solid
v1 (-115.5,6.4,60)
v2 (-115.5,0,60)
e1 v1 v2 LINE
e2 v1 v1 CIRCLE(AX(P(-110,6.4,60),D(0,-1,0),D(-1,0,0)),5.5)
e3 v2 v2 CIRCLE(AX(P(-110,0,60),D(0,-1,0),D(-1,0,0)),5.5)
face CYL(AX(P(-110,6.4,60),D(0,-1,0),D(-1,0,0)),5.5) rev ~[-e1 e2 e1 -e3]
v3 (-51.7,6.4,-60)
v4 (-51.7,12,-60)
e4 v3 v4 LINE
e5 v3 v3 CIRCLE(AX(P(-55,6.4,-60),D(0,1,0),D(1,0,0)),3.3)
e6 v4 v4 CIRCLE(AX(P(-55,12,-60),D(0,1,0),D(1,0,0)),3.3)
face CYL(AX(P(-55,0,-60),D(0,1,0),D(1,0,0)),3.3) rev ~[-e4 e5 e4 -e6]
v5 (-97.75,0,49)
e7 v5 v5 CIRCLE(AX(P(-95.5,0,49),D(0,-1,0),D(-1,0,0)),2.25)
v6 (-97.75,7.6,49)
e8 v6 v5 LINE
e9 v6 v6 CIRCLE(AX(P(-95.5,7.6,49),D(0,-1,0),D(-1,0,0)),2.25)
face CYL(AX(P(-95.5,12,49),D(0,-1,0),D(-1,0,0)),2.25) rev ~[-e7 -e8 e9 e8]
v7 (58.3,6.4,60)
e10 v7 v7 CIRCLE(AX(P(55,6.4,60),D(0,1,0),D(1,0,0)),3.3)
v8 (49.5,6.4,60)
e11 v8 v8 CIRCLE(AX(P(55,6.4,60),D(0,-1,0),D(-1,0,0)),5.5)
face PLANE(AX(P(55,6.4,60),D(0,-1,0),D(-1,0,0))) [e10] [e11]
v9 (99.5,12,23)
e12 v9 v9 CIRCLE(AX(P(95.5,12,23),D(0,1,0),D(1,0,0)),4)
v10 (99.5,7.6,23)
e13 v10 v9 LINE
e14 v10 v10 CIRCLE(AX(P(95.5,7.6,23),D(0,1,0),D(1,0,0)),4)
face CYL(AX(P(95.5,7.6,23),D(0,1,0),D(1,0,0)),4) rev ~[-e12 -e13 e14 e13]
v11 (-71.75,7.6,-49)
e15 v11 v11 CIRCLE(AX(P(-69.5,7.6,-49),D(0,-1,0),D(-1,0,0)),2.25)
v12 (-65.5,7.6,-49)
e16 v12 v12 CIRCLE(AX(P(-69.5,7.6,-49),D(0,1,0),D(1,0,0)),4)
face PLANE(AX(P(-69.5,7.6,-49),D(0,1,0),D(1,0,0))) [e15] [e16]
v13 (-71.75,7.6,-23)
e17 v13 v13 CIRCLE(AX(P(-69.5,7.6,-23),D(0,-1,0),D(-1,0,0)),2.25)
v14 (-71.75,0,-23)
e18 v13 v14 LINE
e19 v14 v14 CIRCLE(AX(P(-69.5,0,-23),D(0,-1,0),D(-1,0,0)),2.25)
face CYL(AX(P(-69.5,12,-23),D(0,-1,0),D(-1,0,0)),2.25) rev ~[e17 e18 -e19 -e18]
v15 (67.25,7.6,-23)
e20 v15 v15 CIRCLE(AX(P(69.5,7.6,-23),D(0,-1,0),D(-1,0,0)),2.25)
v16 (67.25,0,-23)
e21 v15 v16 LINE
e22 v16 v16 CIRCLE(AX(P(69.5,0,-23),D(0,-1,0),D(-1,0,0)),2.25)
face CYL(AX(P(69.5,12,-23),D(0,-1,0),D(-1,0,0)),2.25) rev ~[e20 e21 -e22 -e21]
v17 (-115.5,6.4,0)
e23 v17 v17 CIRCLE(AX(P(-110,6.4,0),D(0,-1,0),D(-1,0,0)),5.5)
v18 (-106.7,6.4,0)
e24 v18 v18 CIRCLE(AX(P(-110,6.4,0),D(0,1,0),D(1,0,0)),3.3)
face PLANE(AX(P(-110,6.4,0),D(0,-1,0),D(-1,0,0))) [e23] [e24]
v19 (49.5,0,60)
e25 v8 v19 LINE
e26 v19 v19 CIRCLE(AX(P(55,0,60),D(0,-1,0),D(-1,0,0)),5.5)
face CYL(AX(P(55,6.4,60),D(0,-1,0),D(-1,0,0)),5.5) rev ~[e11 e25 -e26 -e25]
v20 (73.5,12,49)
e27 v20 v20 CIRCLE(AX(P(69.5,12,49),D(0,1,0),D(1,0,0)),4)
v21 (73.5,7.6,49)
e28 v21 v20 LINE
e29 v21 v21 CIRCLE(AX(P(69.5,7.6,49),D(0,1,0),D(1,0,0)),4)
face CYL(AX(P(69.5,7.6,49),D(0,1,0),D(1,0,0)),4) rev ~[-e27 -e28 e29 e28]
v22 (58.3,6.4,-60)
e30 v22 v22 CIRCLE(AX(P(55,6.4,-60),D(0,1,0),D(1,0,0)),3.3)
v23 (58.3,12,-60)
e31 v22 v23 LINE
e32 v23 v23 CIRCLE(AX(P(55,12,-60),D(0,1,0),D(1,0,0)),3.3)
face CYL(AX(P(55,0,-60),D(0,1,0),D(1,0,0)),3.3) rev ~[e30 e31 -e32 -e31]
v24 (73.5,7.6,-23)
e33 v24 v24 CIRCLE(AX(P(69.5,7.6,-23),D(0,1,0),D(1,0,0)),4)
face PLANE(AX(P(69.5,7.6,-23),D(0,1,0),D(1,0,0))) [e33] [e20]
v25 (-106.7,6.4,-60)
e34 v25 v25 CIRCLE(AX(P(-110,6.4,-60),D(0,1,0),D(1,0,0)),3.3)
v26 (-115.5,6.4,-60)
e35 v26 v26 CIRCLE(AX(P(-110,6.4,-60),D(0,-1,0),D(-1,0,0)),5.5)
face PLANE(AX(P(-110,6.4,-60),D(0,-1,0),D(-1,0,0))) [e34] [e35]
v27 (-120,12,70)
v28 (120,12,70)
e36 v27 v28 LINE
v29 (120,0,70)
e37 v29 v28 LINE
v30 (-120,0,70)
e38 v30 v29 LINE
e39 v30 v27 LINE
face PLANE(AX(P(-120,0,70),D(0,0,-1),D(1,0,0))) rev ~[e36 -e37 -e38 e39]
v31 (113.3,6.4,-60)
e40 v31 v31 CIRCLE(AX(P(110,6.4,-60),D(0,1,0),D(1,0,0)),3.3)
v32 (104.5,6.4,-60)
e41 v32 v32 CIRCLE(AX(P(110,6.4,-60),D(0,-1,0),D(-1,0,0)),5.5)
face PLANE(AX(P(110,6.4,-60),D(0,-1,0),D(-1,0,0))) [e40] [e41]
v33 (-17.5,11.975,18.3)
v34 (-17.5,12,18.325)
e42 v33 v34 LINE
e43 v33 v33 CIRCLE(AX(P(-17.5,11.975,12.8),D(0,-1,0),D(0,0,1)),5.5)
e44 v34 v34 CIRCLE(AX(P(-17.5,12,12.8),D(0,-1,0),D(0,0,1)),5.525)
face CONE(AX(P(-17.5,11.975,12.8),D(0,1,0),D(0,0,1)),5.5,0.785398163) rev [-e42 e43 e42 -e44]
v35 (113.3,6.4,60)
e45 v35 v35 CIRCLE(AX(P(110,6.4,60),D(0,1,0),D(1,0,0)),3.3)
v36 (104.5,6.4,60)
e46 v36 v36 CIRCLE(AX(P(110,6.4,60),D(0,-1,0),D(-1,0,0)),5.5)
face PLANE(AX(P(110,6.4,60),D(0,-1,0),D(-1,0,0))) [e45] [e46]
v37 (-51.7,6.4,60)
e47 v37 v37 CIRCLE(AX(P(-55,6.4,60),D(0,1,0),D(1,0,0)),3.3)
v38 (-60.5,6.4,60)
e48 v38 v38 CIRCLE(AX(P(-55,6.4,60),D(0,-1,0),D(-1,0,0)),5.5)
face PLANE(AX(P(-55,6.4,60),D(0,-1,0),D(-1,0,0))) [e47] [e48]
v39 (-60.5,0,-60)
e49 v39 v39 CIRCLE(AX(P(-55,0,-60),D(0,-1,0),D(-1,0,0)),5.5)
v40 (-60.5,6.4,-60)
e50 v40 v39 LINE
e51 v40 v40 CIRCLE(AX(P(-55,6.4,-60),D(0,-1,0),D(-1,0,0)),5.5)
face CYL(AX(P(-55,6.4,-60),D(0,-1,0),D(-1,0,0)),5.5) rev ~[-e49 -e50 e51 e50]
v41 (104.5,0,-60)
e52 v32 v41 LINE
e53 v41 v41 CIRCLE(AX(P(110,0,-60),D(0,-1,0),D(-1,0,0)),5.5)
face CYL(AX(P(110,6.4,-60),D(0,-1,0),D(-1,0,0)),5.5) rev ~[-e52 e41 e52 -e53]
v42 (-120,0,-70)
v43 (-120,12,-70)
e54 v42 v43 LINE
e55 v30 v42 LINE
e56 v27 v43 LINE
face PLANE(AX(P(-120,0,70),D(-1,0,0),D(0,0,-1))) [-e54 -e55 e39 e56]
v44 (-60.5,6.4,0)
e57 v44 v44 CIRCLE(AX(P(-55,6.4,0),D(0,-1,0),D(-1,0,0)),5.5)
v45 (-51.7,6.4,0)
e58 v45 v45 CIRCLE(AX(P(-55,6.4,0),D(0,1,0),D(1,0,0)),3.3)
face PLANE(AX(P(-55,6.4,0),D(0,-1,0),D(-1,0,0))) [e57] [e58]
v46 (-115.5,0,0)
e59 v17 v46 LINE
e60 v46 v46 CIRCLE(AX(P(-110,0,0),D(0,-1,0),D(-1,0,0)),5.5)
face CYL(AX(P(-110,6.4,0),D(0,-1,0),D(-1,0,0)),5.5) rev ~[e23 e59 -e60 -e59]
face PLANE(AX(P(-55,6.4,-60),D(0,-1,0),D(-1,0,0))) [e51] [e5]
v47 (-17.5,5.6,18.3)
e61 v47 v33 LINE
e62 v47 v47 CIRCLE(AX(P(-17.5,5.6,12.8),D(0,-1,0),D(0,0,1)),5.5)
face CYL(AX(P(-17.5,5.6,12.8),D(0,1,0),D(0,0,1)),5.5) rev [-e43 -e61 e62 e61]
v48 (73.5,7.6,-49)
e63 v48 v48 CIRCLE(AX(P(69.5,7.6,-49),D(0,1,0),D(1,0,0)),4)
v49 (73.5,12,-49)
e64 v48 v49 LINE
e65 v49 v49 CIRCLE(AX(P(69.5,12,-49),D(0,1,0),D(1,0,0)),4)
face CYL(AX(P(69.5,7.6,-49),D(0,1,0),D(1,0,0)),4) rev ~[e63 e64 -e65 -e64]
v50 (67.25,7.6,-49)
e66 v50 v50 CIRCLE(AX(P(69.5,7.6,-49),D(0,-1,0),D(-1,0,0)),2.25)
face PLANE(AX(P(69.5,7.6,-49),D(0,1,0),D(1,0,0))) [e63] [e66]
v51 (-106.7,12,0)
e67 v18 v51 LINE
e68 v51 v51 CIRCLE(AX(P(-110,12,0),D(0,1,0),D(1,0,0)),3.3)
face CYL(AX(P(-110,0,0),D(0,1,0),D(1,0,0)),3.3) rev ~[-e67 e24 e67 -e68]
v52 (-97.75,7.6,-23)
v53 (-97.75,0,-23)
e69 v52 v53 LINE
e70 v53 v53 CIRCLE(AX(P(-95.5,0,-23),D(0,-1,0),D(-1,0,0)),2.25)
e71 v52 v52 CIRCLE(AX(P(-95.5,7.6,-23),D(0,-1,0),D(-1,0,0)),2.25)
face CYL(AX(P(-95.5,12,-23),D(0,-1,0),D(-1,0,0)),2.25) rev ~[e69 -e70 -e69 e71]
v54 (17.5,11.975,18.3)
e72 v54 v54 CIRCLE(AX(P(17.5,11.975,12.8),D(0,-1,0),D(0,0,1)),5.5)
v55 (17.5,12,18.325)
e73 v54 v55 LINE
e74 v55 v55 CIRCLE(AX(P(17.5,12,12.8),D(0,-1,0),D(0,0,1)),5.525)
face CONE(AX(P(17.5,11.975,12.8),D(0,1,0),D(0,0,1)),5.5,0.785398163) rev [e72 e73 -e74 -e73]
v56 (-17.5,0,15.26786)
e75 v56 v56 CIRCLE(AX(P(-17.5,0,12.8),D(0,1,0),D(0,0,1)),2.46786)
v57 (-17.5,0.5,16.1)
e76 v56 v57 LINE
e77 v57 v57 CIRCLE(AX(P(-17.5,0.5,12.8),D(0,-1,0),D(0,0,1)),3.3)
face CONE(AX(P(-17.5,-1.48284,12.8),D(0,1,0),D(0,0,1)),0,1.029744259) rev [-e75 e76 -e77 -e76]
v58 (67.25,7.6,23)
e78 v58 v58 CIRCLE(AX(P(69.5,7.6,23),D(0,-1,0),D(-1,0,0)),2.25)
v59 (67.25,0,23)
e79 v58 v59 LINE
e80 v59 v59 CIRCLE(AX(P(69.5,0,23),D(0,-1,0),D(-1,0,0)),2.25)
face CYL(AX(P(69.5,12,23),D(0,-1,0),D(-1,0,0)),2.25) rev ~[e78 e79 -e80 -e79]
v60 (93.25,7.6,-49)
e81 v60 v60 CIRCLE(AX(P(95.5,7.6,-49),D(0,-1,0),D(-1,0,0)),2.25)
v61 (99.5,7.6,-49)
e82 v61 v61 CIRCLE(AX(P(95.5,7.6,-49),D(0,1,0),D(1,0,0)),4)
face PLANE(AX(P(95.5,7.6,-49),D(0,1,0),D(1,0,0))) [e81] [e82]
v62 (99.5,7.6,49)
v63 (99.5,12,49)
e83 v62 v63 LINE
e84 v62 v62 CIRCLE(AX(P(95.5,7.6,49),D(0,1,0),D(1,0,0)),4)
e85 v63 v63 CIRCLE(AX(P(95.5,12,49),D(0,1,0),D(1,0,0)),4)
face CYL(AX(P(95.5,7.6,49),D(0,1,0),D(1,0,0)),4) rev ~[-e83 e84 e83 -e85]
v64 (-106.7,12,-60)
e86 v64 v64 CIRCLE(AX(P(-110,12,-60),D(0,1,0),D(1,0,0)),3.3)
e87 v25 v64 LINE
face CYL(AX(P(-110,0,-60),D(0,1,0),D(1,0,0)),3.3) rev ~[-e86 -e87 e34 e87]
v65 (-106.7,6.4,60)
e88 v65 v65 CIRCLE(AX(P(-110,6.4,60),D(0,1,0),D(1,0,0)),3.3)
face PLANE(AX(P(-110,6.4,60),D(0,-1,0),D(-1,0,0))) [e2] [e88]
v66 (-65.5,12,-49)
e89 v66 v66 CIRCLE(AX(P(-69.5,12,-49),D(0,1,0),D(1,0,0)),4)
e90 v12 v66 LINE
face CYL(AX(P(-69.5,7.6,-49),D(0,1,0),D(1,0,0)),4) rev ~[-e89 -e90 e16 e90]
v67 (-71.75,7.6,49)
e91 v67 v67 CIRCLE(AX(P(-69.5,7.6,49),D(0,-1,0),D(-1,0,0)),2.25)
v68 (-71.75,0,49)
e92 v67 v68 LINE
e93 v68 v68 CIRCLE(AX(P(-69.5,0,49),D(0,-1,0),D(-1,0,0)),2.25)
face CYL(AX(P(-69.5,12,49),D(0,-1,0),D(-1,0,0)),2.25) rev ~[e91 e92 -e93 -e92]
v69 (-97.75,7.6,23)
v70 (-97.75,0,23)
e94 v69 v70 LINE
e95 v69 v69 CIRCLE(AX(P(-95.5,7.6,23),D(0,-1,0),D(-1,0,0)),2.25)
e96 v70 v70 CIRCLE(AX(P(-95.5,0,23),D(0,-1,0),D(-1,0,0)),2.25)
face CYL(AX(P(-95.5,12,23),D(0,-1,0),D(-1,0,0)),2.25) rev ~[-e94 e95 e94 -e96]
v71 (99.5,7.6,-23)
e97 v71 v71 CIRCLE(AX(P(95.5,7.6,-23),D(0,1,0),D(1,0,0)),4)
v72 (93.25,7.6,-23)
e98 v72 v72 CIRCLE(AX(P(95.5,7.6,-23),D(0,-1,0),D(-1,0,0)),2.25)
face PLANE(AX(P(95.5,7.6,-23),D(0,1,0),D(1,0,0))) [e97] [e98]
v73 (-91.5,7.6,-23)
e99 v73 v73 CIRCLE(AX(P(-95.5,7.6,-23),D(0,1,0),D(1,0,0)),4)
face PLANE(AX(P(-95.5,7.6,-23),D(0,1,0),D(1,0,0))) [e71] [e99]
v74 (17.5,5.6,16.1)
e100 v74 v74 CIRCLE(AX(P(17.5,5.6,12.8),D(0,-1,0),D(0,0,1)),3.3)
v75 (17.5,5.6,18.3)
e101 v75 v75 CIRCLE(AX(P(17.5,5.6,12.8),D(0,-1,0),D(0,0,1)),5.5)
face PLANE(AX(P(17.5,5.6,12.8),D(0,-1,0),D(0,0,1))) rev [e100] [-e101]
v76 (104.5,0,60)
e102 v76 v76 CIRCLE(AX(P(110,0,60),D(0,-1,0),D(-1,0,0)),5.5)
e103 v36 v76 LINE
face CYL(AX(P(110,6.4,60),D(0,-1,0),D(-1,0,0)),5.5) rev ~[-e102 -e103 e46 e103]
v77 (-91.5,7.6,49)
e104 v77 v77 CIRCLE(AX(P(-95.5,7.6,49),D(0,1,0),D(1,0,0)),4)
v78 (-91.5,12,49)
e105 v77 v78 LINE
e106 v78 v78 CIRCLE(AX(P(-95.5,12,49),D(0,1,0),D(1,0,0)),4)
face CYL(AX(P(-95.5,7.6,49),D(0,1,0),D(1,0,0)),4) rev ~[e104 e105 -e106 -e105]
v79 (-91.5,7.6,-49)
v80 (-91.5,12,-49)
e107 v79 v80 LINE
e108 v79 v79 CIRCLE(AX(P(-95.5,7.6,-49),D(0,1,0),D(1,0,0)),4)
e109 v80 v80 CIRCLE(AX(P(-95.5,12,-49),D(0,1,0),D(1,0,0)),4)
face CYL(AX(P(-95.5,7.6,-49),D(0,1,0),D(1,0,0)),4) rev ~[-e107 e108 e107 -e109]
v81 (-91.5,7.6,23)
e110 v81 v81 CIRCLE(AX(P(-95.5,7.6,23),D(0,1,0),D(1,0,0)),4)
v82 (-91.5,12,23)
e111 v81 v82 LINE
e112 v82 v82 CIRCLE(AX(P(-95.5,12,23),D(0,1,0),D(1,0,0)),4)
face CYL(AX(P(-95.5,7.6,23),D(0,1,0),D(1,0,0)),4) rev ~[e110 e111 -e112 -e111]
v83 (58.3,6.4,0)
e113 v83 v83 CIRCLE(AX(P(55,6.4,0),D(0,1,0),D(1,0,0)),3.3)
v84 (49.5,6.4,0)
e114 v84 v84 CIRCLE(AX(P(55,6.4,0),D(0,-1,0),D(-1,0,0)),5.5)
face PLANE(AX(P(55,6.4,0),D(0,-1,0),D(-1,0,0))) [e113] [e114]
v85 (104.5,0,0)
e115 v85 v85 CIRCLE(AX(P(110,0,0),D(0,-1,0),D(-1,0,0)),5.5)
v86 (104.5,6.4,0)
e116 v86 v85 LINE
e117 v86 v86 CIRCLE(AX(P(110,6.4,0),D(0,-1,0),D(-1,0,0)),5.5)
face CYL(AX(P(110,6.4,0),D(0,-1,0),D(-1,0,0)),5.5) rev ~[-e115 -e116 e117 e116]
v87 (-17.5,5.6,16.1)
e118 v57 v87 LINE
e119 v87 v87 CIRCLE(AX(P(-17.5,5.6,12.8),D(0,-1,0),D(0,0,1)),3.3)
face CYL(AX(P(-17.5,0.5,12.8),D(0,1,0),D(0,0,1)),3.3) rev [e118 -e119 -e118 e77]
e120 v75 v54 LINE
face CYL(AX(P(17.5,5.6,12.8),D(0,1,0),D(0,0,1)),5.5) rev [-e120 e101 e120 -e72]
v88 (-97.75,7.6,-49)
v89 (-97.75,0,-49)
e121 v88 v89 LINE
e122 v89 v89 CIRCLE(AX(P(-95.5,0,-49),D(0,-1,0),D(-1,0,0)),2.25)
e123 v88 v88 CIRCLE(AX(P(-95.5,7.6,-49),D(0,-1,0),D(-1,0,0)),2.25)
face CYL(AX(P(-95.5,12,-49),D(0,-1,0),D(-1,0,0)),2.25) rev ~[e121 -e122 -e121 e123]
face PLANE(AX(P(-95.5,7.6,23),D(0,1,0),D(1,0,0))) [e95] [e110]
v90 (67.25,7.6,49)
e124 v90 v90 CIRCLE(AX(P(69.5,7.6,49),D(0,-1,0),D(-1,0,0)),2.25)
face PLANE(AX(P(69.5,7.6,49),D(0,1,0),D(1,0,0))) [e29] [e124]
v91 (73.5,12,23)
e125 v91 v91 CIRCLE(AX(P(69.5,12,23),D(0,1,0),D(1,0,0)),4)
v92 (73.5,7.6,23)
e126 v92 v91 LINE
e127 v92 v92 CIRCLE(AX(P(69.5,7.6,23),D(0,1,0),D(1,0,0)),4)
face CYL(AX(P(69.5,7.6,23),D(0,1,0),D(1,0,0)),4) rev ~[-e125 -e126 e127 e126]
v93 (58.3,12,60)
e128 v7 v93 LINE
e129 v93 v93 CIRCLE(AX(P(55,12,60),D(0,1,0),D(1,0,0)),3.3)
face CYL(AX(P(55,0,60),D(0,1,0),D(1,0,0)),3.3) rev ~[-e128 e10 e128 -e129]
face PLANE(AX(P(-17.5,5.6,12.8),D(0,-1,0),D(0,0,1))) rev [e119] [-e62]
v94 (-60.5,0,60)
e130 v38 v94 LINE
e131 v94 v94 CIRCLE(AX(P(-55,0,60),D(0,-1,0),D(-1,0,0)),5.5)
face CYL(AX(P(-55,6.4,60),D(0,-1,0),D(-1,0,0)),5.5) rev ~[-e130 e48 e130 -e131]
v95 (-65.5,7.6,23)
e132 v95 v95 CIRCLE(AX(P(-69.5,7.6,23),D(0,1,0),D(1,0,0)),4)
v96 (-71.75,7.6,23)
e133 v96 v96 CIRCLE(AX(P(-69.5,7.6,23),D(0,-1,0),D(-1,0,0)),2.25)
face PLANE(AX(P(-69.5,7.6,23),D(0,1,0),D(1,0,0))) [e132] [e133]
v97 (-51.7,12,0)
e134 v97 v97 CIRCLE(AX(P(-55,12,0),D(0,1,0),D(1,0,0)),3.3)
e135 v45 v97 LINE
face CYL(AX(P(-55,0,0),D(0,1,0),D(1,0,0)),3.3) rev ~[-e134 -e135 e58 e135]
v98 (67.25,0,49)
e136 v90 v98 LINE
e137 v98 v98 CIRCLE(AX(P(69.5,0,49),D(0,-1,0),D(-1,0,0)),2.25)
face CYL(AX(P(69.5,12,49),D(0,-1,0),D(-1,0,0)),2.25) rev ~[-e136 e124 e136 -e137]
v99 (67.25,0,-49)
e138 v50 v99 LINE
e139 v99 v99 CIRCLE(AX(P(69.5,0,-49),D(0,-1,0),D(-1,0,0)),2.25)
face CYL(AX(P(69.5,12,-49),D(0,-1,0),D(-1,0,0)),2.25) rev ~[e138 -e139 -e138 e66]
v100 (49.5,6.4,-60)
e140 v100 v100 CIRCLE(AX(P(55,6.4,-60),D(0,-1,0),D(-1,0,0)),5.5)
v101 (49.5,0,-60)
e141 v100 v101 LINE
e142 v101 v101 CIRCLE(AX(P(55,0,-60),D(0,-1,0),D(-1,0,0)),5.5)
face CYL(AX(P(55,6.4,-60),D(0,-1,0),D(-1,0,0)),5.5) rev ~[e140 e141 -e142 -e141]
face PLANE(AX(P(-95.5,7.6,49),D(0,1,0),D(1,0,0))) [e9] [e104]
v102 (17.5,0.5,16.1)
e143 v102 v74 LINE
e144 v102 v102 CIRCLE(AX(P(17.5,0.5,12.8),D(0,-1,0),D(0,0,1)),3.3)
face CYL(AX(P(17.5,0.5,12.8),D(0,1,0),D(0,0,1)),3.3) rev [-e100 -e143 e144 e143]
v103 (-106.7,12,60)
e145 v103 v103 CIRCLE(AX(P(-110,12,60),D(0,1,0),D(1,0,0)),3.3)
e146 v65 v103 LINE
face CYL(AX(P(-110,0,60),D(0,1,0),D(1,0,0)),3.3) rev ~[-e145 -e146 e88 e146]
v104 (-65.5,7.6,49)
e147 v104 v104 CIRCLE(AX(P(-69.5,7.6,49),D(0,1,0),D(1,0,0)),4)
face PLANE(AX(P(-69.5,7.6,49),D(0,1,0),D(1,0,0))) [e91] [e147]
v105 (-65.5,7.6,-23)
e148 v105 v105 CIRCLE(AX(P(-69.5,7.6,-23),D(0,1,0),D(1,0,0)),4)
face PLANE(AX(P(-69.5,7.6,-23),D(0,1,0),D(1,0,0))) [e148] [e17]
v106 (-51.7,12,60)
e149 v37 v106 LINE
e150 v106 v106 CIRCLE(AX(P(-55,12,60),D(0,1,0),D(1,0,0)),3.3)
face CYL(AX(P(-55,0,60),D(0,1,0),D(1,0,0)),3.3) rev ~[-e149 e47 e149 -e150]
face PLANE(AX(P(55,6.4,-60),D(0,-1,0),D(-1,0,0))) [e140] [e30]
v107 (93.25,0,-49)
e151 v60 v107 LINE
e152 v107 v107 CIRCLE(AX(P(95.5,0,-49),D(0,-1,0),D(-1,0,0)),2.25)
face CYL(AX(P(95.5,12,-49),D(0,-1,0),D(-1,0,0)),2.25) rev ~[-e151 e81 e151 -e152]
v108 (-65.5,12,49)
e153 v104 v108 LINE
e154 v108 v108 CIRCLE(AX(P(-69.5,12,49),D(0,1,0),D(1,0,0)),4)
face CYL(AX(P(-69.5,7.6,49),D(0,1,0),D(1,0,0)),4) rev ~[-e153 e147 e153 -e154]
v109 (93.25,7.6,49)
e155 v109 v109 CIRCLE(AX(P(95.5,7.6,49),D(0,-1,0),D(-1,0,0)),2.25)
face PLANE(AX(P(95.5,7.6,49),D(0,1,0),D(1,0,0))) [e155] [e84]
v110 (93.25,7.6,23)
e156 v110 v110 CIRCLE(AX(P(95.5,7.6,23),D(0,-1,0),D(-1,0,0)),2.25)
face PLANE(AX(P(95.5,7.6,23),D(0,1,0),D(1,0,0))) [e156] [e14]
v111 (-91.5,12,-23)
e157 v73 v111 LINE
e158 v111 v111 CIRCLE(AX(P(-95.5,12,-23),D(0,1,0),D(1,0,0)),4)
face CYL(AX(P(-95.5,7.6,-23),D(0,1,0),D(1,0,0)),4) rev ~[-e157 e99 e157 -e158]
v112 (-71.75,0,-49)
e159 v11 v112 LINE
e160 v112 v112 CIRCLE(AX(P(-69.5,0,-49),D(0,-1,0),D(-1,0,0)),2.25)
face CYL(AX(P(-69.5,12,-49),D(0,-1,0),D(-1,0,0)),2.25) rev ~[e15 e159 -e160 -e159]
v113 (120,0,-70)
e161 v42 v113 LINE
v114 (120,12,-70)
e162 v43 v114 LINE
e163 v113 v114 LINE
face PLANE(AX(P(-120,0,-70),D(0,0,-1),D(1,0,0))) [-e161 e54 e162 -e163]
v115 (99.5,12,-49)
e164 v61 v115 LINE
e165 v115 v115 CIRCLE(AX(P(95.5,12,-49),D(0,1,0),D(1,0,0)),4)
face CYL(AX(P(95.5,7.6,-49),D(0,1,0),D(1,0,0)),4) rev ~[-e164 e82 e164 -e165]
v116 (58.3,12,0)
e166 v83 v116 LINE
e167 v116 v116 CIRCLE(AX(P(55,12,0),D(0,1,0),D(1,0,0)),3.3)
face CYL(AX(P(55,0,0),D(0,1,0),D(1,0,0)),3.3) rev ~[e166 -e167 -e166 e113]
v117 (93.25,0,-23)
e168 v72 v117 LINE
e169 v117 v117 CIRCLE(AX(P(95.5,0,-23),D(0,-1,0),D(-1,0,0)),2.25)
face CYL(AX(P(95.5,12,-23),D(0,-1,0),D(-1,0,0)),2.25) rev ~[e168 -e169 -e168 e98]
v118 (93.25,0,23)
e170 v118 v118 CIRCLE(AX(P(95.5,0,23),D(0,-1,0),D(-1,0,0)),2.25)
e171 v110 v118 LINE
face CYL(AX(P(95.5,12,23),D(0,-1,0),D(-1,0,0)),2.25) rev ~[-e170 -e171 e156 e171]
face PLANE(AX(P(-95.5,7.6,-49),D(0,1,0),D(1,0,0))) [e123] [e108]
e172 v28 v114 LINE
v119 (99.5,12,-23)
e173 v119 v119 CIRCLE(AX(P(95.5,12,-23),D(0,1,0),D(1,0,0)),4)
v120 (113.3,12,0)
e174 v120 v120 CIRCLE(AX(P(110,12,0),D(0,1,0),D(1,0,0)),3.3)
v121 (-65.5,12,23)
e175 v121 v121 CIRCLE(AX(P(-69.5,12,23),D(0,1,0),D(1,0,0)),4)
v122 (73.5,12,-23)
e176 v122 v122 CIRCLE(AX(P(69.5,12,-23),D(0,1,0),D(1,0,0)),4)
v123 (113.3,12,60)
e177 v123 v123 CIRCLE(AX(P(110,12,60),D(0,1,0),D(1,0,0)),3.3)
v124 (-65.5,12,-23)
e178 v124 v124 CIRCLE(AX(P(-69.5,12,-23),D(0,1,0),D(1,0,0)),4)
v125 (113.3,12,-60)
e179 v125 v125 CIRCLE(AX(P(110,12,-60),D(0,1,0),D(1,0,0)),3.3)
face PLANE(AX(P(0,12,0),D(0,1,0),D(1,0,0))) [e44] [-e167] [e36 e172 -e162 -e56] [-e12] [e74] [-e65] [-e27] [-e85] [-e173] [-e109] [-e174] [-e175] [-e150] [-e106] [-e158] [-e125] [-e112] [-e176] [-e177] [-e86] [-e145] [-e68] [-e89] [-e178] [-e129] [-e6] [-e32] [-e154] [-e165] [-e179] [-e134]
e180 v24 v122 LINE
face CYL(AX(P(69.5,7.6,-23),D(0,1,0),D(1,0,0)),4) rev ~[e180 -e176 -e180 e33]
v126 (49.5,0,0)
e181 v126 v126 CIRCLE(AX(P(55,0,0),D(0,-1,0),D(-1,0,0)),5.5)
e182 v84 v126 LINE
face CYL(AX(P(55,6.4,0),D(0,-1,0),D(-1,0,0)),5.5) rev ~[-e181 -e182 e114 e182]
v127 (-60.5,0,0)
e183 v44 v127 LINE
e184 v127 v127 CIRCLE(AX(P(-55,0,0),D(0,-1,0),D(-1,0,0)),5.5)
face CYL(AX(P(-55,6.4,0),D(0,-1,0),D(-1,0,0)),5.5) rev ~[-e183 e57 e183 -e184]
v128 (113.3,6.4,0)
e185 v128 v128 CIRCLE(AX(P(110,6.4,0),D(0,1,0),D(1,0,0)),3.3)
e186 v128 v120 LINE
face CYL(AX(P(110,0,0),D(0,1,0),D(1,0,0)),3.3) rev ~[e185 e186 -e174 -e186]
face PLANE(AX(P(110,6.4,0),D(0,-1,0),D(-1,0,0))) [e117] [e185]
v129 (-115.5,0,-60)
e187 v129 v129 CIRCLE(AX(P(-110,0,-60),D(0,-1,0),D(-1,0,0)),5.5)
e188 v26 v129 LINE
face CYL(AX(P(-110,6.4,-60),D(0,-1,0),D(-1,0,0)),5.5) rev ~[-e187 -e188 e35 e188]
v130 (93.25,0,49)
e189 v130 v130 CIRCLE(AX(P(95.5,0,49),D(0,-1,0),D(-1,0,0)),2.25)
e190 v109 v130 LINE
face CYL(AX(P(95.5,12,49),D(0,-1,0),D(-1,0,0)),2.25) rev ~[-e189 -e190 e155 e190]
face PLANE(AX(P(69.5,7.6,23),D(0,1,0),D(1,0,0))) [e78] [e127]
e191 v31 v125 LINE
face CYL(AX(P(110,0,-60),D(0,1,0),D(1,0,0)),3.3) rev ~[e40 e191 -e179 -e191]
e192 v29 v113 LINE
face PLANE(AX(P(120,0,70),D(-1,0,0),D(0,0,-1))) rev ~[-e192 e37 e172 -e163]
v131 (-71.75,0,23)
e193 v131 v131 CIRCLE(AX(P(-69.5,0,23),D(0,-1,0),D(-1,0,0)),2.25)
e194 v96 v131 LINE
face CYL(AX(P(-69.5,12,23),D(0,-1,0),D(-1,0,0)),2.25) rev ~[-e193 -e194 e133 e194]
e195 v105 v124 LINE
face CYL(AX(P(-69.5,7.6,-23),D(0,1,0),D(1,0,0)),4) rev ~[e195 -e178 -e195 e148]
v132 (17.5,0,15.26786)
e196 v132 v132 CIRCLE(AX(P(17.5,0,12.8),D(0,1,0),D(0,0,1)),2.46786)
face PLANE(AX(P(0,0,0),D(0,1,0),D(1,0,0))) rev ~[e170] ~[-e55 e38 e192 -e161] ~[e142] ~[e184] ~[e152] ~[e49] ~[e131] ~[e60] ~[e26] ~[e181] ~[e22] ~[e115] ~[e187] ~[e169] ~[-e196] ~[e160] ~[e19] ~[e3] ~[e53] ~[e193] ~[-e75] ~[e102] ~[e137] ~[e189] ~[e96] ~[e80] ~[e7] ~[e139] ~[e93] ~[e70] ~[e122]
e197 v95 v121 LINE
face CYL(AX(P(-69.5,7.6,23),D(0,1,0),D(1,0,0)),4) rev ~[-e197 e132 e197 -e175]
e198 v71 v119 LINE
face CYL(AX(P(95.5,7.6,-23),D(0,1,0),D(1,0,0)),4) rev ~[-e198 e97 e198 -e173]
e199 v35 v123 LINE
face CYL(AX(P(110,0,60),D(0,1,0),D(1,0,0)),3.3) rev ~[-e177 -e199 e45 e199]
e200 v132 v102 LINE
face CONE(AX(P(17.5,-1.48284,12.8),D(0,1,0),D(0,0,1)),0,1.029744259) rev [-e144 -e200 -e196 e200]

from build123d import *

# Parameters (mm, degrees)
SKETCH2_W                                           = 240
SKETCH2_H                                           = 140
EXTRUDE1_DEPTH                                      = 12
CBORE_FOR_M4_HEX_SOCKET_HEAD_CAP_SCREW1_D           = 4.5
CBORE_FOR_M4_HEX_SOCKET_HEAD_CAP_SCREW1_CBORE_D     = 8
CBORE_FOR_M4_HEX_SOCKET_HEAD_CAP_SCREW1_CBORE_DEPTH = 4.4
CBORE_FOR_M6_HEX_SOCKET_HEAD_CAP_SCREW1_D           = 6.6
CBORE_FOR_M6_HEX_SOCKET_HEAD_CAP_SCREW1_CBORE_D     = 11
CBORE_FOR_M6_HEX_SOCKET_HEAD_CAP_SCREW1_CBORE_DEPTH = 6.4
CBORE_FOR_M6_HEX_SOCKET_HEAD_CAP_SCR_2_COUNT        = 2
CBORE_FOR_M6_HEX_SOCKET_HEAD_CAP_SCR_2_PITCH        = 35


with BuildPart() as part:
    # Sketch2 → Extrude1 (new body)
    with BuildSketch(Plane(origin=(0, 0, 0), x_dir=(1, 0, 0), z_dir=(0, 1, 0))):
        Rectangle(SKETCH2_W, SKETCH2_H)
    extrude(amount=EXTRUDE1_DEPTH)

    # CBORE for M4 Hex Socket Head Cap Screw1 (through all)
    with Locations(Plane(origin=(0, 12, 0), x_dir=(1, 0, 0), z_dir=(0, 1, 0))):
        with Locations((-95.5, 49), (-69.5, 49), (-69.5, 23), (-95.5, 23), (-95.5, -23), (-69.5, -23), (-69.5, -49), (-95.5, -49), (69.5, 49), (95.5, 49), (95.5, 23), (69.5, 23), (69.5, -23), (95.5, -23), (95.5, -49), (69.5, -49)):
            CounterBoreHole(CBORE_FOR_M4_HEX_SOCKET_HEAD_CAP_SCREW1_D / 2, CBORE_FOR_M4_HEX_SOCKET_HEAD_CAP_SCREW1_CBORE_D / 2, CBORE_FOR_M4_HEX_SOCKET_HEAD_CAP_SCREW1_CBORE_DEPTH)

    # CBORE for M6 Hex Socket Head Cap Screw1 (through all)
    with Locations(Plane(origin=(0, 0, 0), x_dir=(-1, 0, 0), z_dir=(0, -1, 0))):
        with Locations((110, -60), (110, 0), (110, 60), (55, 60), (55, 0), (55, -60), (-55, -60), (-55, 0), (-55, 60), (-110, 60), (-110, 0), (-110, -60)):
            CounterBoreHole(CBORE_FOR_M6_HEX_SOCKET_HEAD_CAP_SCREW1_D / 2, CBORE_FOR_M6_HEX_SOCKET_HEAD_CAP_SCREW1_CBORE_D / 2, CBORE_FOR_M6_HEX_SOCKET_HEAD_CAP_SCREW1_CBORE_DEPTH)

    # Sketch10 → CBORE for M6 Hex Socket Head Cap Screw2 (revolve, cut)
    with BuildSketch(Plane(origin=(17.5, 12, 12.8), x_dir=(0, 0, 1), z_dir=(1, 0, 0))):
        Polygon((0, 0), (0, 13.482840043), (3.3, 11.5), (3.3, 6.4), (5.5, 6.4), (5.5, 0.025), (5.525, 0), align=None)
    cbore_for_m6_hex_socket_head_cap_screw2 = revolve(axis=Axis((17.5, 18.35, 12.8), (0, -1, 0)), mode=Mode.SUBTRACT)

    # CBORE for M6 Hex Socket Head Cap Scr 2: CBORE for M6 Hex Socket Head Cap Screw2 ×2
    with Locations(*[(-i * CBORE_FOR_M6_HEX_SOCKET_HEAD_CAP_SCR_2_PITCH, 0, 0) for i in range(1, CBORE_FOR_M6_HEX_SOCKET_HEAD_CAP_SCR_2_COUNT)]):
        add(cbore_for_m6_hex_socket_head_cap_screw2, mode=Mode.SUBTRACT)


solid = part.part
